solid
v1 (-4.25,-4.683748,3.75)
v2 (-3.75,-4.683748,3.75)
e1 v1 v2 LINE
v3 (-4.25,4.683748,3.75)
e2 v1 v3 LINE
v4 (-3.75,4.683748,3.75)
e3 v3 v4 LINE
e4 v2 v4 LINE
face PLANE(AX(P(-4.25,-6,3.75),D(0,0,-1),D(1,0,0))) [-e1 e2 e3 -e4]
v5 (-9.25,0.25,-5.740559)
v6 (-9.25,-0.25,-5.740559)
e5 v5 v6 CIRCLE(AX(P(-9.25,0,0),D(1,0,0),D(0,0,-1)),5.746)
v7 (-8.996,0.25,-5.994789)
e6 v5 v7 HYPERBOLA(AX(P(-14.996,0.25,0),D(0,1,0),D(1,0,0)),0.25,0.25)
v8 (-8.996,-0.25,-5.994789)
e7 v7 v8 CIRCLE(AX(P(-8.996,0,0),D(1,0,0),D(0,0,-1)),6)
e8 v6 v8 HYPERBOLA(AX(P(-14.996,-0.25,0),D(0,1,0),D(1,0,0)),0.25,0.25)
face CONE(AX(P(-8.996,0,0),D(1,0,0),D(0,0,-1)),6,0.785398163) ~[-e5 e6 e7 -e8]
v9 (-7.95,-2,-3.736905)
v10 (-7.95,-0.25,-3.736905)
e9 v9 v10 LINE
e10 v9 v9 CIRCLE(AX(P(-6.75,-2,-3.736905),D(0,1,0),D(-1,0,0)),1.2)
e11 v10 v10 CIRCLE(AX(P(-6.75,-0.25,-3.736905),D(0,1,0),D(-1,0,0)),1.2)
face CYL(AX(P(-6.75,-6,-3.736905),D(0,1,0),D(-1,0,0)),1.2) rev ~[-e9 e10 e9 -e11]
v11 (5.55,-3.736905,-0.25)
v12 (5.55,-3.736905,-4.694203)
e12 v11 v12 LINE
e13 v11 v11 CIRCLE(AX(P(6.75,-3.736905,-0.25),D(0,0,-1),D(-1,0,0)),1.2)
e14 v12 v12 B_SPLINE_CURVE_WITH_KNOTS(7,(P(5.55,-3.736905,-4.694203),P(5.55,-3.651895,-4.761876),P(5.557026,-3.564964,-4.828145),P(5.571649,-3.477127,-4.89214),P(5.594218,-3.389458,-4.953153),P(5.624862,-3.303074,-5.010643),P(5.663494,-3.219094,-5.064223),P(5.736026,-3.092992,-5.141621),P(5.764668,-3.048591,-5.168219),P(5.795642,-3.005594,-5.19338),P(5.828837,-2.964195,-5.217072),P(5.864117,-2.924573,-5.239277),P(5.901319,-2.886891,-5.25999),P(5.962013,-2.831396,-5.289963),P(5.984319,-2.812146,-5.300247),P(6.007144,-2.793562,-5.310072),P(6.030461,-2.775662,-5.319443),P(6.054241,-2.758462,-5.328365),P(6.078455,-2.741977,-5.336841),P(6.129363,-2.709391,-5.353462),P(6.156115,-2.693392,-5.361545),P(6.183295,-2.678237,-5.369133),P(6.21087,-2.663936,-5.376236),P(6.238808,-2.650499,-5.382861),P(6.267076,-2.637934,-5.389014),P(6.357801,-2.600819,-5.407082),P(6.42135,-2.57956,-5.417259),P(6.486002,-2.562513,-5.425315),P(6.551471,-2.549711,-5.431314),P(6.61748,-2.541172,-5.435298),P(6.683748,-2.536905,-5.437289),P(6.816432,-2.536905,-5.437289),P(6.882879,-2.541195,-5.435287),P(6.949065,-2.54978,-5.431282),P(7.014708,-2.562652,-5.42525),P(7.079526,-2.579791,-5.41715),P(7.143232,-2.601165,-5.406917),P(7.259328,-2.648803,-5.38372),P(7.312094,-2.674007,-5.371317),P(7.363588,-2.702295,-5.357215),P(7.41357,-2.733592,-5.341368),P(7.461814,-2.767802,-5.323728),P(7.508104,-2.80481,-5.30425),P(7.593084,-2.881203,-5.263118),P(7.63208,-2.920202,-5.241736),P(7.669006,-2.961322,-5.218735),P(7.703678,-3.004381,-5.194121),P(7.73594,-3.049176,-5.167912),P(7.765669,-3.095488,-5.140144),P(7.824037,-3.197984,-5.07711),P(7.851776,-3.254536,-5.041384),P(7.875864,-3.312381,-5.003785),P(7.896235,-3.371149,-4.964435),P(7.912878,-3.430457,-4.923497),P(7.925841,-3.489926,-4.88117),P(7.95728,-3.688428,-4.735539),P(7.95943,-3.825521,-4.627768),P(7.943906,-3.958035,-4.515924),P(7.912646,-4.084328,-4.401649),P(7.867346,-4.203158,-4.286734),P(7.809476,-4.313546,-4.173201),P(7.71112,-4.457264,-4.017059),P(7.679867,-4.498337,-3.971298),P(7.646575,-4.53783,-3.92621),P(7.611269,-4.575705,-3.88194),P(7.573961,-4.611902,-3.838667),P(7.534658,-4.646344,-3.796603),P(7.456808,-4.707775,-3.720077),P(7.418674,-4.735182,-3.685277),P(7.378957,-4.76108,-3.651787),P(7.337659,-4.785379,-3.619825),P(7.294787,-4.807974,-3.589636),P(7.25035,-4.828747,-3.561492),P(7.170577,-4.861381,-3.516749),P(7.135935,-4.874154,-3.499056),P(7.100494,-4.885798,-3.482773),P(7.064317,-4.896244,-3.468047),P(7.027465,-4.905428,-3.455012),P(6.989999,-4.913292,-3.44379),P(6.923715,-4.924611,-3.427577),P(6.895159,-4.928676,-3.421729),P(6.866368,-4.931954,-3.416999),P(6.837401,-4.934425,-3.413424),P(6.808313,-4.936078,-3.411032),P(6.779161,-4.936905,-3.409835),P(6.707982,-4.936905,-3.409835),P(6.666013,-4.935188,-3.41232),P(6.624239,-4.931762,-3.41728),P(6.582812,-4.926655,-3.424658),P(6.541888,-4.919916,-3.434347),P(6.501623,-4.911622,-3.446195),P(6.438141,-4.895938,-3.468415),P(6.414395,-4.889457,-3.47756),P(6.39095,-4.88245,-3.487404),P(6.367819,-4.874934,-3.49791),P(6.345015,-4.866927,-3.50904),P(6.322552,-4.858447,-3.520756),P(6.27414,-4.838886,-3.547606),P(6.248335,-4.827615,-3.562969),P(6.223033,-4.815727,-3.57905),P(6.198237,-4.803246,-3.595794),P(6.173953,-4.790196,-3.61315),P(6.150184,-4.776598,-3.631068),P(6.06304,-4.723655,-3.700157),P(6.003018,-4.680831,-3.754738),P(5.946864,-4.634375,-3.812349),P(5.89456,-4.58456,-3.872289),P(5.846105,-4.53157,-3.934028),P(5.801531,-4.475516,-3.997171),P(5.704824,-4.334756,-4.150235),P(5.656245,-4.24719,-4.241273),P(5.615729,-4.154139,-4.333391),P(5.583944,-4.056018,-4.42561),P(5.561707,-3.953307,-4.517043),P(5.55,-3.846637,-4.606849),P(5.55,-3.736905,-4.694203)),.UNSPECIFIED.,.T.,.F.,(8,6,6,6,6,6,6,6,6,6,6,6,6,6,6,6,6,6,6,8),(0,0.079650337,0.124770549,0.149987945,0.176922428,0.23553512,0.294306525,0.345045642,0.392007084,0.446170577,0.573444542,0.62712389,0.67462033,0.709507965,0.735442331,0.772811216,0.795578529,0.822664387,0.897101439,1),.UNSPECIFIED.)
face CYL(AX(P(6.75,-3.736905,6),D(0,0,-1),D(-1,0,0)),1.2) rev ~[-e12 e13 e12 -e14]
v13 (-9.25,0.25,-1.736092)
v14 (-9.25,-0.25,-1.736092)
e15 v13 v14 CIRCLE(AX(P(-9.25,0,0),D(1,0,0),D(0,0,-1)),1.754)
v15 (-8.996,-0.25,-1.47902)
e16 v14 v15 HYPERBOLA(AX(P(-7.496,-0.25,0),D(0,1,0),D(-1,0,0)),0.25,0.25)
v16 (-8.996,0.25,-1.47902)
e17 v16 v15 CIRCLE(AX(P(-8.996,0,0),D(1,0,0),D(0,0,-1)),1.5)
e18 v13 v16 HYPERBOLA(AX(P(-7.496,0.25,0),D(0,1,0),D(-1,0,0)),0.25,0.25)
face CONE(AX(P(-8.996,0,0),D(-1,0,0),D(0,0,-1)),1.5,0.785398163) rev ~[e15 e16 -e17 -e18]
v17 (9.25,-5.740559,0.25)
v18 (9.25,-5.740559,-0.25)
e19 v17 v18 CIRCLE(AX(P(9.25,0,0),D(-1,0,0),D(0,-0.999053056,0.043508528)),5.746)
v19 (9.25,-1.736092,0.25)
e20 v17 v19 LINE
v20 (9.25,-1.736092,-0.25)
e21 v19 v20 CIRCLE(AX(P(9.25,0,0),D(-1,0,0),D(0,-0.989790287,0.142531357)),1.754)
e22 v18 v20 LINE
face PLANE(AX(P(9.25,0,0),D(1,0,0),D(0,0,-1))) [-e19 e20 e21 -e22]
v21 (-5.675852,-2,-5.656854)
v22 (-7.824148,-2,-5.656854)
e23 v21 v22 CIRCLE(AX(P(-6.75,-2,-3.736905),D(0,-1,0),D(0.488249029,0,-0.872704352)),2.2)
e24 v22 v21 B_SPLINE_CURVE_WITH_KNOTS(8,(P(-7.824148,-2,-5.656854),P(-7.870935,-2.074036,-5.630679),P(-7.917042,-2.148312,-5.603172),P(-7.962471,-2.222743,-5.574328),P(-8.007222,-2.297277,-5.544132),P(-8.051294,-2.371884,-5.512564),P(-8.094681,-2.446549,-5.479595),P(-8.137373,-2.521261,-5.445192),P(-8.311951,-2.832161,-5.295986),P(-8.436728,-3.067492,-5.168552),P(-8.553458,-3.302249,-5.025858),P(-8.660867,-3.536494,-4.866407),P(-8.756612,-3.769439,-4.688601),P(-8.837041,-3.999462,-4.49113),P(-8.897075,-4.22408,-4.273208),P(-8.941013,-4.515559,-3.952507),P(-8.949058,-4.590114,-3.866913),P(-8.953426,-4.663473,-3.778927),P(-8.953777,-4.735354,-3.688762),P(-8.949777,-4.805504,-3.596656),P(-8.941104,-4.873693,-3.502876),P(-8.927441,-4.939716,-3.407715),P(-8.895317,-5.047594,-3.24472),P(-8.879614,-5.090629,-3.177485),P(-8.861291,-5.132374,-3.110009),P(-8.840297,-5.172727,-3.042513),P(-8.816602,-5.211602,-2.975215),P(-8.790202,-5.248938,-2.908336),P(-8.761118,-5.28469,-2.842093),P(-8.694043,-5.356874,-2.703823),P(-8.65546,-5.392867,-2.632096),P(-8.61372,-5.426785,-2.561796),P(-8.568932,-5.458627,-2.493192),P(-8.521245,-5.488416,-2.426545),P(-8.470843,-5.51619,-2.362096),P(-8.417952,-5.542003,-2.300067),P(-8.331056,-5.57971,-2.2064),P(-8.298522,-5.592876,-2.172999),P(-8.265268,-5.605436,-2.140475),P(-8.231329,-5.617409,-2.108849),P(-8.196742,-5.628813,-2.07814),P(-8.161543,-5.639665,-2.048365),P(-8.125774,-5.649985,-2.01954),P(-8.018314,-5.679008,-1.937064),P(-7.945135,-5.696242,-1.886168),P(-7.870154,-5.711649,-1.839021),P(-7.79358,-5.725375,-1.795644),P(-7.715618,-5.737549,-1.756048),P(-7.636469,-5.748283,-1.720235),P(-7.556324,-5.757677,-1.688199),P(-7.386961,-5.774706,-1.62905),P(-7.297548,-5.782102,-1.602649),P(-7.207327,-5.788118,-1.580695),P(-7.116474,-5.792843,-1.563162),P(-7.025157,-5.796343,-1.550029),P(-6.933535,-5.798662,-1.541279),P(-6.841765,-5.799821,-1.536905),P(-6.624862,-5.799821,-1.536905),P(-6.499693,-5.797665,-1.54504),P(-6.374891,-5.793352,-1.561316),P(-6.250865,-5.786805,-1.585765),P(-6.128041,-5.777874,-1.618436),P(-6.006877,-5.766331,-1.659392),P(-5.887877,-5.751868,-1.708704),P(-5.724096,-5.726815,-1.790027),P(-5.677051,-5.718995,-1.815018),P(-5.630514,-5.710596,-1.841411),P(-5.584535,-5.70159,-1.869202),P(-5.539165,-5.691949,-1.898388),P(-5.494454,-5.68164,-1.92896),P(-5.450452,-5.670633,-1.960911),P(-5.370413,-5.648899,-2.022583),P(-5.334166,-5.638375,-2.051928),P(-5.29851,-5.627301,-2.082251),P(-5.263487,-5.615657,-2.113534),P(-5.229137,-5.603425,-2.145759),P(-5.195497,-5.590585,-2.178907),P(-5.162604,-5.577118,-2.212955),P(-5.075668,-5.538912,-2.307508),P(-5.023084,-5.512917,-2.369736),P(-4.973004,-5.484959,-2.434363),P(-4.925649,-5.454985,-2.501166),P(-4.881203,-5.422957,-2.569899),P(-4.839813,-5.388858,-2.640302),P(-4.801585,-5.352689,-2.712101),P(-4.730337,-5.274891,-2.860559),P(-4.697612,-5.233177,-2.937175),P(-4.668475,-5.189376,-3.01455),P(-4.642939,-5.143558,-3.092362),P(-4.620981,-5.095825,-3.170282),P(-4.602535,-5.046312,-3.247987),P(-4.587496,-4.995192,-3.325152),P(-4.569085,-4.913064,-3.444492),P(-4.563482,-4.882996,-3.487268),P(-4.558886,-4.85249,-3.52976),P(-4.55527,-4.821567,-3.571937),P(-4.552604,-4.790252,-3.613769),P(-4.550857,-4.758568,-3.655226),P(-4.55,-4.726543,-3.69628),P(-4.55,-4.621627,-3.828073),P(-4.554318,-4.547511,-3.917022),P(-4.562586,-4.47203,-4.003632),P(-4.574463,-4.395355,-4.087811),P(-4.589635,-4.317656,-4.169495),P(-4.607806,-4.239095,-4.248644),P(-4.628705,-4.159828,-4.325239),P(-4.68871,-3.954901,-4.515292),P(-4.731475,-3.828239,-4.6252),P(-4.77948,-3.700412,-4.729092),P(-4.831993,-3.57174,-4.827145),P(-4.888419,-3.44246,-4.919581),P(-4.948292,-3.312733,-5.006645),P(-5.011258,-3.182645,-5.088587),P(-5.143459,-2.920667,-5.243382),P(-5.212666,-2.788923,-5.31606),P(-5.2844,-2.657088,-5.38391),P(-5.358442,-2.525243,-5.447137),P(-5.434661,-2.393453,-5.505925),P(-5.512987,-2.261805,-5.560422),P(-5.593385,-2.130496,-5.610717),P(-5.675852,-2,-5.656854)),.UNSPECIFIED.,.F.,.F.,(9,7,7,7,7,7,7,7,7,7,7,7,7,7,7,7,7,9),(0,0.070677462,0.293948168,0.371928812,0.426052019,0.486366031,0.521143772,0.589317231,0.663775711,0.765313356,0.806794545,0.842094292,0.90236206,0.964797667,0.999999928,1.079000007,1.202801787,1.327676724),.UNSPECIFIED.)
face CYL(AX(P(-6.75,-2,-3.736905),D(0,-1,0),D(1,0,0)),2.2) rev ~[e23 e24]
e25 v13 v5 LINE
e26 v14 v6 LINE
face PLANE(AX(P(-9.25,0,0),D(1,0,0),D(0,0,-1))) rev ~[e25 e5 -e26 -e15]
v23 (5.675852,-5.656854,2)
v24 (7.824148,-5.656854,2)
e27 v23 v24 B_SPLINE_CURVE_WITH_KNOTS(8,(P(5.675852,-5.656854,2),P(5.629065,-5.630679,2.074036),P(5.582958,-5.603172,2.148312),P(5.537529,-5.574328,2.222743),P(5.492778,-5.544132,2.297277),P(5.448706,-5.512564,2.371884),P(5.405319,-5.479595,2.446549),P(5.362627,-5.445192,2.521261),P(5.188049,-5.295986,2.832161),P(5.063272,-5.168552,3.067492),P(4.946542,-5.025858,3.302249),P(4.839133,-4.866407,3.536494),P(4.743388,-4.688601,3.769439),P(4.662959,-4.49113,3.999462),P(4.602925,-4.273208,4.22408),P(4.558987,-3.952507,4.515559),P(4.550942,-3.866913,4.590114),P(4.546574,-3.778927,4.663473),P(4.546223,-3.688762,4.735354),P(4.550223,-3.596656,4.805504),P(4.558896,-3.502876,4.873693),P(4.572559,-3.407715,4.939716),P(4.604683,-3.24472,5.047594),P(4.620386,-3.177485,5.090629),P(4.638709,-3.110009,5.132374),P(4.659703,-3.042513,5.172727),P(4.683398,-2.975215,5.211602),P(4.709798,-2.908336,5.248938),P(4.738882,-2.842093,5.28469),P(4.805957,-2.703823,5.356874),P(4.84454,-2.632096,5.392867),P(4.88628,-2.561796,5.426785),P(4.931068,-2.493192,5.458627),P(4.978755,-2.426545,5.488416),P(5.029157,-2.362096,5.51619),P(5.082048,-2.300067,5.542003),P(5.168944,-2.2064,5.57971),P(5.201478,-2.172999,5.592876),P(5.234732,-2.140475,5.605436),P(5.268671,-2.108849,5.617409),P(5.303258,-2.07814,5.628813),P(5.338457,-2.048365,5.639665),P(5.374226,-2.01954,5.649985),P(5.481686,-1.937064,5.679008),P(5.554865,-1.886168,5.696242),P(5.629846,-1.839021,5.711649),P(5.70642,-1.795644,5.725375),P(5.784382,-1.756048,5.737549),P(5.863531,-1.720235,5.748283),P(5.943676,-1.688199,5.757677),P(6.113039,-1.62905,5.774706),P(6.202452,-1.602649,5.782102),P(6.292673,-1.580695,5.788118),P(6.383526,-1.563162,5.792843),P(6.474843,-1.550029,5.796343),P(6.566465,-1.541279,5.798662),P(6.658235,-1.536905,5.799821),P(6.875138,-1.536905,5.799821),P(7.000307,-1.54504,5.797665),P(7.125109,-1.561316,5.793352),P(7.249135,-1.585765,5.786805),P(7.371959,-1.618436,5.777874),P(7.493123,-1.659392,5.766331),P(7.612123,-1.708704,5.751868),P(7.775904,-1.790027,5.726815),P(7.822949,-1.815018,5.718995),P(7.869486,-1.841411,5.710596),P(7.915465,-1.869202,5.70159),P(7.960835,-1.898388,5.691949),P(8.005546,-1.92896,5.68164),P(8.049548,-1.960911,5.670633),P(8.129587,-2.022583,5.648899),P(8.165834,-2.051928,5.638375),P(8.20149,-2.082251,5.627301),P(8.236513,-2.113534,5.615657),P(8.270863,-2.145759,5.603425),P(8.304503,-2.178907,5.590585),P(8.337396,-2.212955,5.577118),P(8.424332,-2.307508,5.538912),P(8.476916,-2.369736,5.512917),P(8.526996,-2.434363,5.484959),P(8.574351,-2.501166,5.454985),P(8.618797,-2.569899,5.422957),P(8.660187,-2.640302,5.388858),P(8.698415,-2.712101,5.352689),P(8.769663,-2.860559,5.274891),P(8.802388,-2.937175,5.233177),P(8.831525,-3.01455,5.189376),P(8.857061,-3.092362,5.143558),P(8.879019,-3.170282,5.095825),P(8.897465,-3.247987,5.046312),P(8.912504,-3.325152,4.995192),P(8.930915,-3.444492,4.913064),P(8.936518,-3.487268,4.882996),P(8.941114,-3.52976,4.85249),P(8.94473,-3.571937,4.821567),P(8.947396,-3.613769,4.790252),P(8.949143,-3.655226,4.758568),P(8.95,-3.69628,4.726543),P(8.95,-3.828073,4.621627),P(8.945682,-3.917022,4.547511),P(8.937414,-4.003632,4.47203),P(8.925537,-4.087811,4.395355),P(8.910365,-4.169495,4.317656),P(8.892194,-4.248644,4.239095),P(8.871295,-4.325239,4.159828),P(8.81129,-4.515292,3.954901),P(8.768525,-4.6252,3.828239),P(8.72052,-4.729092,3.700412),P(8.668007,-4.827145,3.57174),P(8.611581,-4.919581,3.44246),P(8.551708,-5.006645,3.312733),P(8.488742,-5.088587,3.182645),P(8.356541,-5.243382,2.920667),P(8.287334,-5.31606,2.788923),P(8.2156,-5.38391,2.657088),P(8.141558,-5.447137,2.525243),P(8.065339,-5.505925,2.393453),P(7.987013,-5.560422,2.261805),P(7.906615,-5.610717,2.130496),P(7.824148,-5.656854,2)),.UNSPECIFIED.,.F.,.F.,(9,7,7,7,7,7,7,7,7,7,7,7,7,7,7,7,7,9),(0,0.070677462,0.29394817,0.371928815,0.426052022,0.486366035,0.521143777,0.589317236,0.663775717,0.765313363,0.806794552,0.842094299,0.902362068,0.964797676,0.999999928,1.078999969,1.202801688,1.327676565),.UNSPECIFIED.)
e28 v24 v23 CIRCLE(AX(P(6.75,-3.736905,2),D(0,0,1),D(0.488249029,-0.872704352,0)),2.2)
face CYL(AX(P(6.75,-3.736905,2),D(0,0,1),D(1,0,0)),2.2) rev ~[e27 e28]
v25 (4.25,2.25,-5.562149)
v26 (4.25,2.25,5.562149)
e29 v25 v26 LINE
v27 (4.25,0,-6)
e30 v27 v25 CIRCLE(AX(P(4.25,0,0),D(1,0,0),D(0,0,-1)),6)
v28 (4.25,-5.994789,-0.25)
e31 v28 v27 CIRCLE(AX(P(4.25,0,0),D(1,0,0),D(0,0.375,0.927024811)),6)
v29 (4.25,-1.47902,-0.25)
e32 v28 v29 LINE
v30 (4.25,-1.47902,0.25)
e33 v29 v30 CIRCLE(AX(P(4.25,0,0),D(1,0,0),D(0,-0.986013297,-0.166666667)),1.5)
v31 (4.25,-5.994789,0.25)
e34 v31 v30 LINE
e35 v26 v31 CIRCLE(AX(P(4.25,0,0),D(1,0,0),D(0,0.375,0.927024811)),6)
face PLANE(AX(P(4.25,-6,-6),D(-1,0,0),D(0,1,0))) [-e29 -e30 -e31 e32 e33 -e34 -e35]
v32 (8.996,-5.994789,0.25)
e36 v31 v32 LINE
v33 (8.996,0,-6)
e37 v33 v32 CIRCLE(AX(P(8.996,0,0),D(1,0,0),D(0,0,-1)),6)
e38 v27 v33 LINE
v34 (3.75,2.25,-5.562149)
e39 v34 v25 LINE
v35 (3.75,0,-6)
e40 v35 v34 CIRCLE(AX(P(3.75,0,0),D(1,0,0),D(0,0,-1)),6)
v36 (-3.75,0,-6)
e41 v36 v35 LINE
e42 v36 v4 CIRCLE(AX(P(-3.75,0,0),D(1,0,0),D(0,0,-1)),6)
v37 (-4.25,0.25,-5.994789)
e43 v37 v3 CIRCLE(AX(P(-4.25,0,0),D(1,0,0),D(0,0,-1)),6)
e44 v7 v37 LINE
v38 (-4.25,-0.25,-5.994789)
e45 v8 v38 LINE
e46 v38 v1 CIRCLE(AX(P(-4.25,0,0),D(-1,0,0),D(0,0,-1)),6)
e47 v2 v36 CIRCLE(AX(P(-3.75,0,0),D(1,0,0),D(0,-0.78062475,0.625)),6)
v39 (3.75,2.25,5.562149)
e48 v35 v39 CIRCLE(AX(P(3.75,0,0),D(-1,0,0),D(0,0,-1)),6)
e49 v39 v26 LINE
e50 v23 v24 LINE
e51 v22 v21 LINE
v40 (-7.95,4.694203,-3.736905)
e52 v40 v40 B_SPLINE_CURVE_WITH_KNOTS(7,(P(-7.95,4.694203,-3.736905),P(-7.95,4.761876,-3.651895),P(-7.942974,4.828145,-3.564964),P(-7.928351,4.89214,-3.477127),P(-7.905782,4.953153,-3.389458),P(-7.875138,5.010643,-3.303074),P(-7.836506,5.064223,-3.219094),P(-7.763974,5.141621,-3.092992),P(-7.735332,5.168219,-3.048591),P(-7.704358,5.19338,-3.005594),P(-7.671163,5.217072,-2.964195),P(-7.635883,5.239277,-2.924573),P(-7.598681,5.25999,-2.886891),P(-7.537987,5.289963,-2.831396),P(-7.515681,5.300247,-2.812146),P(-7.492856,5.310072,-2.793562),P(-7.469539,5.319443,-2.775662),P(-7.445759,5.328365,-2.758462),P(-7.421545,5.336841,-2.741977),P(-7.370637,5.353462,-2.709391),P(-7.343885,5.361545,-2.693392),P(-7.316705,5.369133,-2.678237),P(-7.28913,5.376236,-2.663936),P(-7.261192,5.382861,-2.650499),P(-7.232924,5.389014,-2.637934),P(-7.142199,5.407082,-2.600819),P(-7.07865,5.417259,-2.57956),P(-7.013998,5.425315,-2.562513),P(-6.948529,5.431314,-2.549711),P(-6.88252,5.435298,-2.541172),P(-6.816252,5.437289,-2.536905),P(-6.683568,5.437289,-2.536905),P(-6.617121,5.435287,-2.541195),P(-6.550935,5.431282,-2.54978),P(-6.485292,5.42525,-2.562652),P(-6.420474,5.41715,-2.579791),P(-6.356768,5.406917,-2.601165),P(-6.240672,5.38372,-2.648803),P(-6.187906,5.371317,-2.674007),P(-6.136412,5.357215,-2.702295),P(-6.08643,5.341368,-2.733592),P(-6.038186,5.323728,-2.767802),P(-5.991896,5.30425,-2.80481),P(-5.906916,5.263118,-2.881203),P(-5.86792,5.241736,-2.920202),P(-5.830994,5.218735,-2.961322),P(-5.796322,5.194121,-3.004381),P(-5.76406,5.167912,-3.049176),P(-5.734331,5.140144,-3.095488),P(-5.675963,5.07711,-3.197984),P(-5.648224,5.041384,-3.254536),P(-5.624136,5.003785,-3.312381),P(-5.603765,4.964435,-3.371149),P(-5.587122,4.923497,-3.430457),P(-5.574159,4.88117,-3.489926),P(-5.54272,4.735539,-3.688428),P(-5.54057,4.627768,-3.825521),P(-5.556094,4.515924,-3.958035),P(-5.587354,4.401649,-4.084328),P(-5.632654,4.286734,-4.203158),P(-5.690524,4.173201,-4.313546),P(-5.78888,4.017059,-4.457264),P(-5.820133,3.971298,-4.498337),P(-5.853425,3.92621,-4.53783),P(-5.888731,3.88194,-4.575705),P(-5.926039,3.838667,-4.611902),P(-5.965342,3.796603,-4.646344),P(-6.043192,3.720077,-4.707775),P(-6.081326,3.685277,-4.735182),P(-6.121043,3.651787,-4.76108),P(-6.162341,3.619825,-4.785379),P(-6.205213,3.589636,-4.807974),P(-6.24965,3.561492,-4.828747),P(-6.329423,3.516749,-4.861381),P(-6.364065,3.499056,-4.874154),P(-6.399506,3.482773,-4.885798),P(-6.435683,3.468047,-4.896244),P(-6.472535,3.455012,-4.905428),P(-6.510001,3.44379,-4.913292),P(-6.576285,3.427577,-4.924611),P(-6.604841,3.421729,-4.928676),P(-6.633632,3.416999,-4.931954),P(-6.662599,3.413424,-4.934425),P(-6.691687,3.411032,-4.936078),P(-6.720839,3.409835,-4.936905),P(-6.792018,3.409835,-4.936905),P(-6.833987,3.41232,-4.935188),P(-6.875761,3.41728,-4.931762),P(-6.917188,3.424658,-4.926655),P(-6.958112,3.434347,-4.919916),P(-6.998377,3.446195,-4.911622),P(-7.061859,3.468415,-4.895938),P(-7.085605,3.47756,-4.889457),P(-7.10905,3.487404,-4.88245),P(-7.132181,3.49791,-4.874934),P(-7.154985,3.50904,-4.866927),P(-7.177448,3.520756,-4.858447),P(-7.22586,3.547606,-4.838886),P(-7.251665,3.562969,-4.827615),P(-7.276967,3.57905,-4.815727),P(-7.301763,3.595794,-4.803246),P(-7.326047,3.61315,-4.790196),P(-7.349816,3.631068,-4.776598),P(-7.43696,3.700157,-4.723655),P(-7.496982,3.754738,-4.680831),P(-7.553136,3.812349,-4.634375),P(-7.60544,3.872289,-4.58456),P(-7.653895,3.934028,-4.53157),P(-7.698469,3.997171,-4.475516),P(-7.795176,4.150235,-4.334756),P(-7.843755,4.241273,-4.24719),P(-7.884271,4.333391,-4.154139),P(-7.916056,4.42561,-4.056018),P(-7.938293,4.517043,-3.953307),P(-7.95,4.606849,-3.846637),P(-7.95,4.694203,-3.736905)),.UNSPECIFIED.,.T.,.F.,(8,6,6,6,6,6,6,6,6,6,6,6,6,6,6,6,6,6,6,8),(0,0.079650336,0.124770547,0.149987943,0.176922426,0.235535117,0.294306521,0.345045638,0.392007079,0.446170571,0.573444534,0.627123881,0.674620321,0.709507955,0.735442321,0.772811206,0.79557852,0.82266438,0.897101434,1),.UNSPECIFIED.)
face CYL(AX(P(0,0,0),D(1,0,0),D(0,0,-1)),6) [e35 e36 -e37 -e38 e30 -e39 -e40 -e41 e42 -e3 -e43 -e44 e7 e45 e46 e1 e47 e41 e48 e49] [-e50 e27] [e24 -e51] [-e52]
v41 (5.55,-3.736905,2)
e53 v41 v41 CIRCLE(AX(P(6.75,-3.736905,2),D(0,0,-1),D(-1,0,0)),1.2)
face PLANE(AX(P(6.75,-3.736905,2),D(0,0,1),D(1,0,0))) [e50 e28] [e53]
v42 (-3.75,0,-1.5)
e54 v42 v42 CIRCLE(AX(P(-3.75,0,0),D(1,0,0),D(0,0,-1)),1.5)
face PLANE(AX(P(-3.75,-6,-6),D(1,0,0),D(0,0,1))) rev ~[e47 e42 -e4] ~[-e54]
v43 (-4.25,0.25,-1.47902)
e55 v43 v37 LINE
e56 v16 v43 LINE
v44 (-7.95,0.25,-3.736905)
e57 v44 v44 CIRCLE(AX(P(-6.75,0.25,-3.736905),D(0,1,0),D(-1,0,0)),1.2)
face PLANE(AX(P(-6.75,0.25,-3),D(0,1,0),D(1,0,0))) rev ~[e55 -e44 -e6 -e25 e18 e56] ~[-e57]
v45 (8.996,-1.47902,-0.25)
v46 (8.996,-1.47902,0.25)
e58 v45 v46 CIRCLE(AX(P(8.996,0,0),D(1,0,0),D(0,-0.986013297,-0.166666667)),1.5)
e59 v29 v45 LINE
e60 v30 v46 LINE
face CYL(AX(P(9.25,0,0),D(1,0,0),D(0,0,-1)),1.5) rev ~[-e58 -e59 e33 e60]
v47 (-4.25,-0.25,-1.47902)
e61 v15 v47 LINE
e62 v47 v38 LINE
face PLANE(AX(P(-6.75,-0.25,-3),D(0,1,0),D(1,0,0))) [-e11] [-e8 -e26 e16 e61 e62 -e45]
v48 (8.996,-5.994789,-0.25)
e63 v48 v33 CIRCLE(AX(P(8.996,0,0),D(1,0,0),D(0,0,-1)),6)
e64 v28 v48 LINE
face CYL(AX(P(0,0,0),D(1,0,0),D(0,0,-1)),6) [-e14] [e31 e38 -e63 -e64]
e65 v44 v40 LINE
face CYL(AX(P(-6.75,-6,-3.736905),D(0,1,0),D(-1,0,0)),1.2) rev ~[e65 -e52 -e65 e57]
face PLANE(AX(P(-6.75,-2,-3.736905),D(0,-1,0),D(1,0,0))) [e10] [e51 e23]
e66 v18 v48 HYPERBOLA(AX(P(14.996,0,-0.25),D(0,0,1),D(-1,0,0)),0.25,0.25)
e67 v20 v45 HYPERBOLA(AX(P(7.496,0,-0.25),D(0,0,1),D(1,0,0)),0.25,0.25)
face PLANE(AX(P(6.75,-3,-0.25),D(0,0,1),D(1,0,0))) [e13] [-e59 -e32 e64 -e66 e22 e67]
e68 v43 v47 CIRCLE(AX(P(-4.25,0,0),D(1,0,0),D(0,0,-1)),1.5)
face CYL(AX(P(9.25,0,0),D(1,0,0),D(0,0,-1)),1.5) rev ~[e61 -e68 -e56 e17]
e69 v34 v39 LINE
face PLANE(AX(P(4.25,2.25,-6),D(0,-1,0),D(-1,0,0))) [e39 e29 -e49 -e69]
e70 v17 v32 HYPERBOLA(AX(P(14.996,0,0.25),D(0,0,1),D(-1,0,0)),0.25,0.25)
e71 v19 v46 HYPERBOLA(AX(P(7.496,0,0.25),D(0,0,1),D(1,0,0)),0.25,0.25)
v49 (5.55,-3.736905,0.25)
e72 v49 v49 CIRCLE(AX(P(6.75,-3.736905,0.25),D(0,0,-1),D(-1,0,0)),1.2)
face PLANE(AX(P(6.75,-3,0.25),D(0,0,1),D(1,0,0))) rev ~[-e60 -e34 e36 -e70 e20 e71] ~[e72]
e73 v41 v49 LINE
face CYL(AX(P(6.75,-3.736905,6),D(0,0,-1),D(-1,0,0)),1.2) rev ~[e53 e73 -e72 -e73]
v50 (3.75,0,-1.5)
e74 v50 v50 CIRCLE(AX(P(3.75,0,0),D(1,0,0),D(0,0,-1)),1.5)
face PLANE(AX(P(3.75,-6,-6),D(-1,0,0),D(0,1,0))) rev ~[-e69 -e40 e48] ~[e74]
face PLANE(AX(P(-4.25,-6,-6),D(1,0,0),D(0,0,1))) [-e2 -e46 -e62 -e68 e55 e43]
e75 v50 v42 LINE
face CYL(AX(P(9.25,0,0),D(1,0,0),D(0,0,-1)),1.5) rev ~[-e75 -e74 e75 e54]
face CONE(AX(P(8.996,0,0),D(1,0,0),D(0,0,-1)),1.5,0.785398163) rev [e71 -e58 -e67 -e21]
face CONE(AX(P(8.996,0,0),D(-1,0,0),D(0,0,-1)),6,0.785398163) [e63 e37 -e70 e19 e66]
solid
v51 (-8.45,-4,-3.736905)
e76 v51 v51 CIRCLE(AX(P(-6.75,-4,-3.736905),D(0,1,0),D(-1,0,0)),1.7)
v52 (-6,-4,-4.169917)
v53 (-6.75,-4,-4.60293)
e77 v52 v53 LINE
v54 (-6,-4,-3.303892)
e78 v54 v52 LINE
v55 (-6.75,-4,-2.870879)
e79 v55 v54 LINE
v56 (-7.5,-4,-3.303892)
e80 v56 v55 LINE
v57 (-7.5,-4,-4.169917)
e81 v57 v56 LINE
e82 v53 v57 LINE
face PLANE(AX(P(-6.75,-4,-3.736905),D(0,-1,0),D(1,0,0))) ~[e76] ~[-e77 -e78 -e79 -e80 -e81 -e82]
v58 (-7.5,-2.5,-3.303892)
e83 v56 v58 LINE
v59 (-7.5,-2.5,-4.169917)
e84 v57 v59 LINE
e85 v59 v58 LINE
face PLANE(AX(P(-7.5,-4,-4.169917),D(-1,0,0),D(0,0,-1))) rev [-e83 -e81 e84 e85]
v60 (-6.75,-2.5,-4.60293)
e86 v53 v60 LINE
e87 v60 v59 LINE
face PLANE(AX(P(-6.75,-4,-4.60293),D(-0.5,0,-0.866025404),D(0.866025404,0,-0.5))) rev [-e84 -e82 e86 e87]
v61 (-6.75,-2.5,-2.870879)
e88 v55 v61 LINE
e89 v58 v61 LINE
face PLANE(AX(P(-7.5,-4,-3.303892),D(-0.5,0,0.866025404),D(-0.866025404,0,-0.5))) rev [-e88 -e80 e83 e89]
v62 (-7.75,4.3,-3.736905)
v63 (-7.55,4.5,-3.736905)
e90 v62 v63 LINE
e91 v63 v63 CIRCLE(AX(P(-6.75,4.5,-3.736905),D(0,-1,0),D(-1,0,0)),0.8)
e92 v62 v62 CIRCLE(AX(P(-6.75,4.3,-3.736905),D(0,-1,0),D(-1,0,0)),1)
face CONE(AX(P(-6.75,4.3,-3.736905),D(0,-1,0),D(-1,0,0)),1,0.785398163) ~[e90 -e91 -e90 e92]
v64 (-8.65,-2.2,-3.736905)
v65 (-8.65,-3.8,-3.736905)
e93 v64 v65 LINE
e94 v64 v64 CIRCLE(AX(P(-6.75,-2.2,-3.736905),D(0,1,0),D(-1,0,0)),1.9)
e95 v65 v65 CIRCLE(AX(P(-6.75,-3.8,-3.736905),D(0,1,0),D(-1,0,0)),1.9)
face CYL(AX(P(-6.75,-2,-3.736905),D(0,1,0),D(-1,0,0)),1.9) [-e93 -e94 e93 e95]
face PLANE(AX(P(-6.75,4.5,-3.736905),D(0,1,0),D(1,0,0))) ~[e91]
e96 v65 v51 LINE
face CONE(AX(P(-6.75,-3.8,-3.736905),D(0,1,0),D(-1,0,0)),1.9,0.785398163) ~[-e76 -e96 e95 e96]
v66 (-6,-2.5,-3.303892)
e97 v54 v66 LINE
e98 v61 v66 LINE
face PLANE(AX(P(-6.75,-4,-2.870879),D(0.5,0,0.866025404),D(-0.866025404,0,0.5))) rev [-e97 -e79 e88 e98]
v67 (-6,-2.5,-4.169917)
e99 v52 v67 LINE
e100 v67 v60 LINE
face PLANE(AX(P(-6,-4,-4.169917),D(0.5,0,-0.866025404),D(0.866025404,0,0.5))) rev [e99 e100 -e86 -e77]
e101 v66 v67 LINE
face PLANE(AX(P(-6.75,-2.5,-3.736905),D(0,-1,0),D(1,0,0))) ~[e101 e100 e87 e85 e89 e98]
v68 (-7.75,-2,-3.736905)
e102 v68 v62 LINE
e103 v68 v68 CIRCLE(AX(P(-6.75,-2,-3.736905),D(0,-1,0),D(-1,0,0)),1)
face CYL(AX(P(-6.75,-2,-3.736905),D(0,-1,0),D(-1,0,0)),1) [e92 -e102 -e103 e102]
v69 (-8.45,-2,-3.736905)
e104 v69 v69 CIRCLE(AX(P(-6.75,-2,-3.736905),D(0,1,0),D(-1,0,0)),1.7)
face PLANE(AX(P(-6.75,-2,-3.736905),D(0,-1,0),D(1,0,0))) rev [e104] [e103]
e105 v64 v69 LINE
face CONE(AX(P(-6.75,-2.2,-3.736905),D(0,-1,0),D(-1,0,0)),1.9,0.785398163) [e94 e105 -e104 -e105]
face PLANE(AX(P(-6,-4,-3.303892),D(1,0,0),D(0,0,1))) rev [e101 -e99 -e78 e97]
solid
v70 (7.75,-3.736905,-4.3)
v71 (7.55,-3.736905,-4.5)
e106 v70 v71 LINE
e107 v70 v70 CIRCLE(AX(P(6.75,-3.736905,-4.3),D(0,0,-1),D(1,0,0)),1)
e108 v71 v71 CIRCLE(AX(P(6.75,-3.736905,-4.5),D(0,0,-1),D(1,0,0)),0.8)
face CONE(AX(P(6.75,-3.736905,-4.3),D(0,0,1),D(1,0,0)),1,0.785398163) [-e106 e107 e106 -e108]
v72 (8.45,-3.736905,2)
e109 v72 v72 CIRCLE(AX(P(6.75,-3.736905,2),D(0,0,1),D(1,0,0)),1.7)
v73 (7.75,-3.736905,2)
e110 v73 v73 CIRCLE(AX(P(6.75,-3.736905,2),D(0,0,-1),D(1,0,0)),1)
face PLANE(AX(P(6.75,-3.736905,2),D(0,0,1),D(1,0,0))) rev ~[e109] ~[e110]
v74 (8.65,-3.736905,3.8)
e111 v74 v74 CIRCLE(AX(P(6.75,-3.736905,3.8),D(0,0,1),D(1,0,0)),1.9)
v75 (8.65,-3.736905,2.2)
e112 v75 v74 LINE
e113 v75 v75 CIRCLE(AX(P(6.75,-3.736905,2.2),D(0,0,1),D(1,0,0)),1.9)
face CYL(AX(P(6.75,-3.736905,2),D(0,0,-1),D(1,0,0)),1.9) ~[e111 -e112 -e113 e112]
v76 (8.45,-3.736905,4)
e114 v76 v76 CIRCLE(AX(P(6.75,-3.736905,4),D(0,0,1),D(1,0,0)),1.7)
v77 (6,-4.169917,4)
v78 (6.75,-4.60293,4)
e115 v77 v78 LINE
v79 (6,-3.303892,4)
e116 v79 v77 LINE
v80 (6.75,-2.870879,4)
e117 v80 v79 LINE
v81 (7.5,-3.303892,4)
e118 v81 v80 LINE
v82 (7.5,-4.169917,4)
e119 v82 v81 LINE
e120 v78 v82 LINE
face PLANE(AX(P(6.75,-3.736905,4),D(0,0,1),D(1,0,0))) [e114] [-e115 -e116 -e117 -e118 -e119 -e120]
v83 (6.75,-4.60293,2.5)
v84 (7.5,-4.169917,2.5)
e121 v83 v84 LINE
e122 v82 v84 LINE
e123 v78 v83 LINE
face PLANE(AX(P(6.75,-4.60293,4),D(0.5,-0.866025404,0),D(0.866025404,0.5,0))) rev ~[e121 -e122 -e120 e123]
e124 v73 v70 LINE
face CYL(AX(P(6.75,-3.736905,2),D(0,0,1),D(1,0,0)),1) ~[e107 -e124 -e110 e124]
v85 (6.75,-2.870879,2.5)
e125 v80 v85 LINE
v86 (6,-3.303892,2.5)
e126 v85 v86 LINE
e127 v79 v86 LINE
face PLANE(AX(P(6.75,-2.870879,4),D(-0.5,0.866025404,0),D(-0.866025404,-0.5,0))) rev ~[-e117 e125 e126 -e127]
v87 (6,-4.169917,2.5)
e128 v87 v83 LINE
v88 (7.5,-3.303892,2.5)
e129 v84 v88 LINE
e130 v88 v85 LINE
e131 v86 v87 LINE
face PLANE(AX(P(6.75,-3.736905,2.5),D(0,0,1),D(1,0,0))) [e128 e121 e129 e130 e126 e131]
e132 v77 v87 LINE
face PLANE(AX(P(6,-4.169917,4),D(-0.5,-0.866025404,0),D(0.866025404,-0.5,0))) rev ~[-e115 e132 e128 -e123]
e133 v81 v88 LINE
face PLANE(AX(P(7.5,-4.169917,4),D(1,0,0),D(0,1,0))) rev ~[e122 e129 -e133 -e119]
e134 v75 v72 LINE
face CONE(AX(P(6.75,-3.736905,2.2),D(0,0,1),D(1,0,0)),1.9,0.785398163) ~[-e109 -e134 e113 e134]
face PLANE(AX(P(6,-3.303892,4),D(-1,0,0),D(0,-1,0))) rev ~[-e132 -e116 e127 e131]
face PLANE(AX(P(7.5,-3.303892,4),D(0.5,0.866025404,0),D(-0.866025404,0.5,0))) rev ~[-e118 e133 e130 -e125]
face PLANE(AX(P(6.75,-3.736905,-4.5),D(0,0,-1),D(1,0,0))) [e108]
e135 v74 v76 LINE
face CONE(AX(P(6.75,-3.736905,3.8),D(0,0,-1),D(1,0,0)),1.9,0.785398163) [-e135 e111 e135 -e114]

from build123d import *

# Parameters (mm, degrees)
SKETCH1_R                      = 6
BOSS_EXTRUDE1_DEPTH            = 9.25
SKETCH2_R                      = 1.5
CUT_EXTRUDE1_DEPTH             = 19.5
CHAMFER1_SIZE                  = 0.254
SKETCH4_W                      = 0.5
SKETCH4_H                      = 9.75
CUT_EXTRUDE2_DEPTH             = 13
SKETCH7_W                      = 0.5
SKETCH7_H                      = 8.25
CUT_EXTRUDE3_DEPTH             = 13
SKETCH8_W                      = 5
SKETCH8_H                      = 6
CUT_EXTRUDE5_DEPTH             = 0.25
SKETCH13_W                     = 5
SKETCH13_H                     = 6
CUT_EXTRUDE6_DEPTH             = 0.25
CBORE_FOR_M2_SHCS1_D           = 2.4
CBORE_FOR_M2_SHCS1_CBORE_D     = 4.4
CBORE_FOR_M2_SHCS1_CBORE_DEPTH = 4
CBORE_FOR_M2_SHCS2_D           = 2.4
CBORE_FOR_M2_SHCS2_CBORE_D     = 4.4
CBORE_FOR_M2_SHCS2_CBORE_DEPTH = 4
SKETCH16_R                     = 1.9
BOSS_EXTRUDE2_DEPTH            = 2
SKETCH17_R                     = 1
BOSS_EXTRUDE3_DEPTH            = 6.5
CHAMFER2_SIZE                  = 0.2
CUT_EXTRUDE7_DEPTH             = 1.5
CIRPATTERN1_COUNT              = 2
CIRPATTERN1_ANGLE              = 90


with BuildPart() as part:
    # Sketch1 → Boss-Extrude1 (new body, symmetric)
    with BuildSketch(Plane(origin=(0, 0, 0), x_dir=(0, 0, -1), z_dir=(1, 0, 0))):
        Circle(SKETCH1_R)
    extrude(amount=BOSS_EXTRUDE1_DEPTH, both=True)

    # Sketch2 → Cut-Extrude1 (cut, through all)
    with BuildSketch(Plane(origin=(9.25, 0, 0), x_dir=(0, 0, -1), z_dir=(1, 0, 0))):
        Circle(SKETCH2_R)
    extrude(amount=-CUT_EXTRUDE1_DEPTH, mode=Mode.SUBTRACT)

    # Chamfer1
    chamfer1_edges = [part.edges().sort_by_distance(p)[0] for p in [
        (-9.25, 0, 6),
        (9.25, 0, 6),
        (-9.25, 0, 1.5),
        (9.25, 0, 1.5),
    ]]
    chamfer(chamfer1_edges, length=CHAMFER1_SIZE)

    # Sketch4 → Cut-Extrude2 (cut, through all)
    with BuildSketch(Plane.XZ.offset(6)):
        with Locations((-4, -1.125)):
            Rectangle(SKETCH4_W, SKETCH4_H)
    extrude(amount=-CUT_EXTRUDE2_DEPTH, mode=Mode.SUBTRACT)

    # Sketch7 → Cut-Extrude3 (cut, through all)
    with BuildSketch(Plane(origin=(0, 0, -6), x_dir=(-1, 0, 0), z_dir=(0, 0, -1))):
        with Locations((-4, -1.875)):
            Rectangle(SKETCH7_W, SKETCH7_H)
    extrude(amount=-CUT_EXTRUDE3_DEPTH, mode=Mode.SUBTRACT)

    # Sketch8 → Cut-Extrude5 (cut, symmetric)
    with BuildSketch(Plane(origin=(0, 0, 0), x_dir=(1, 0, 0), z_dir=(0, 1, 0))):
        with Locations((-6.75, 3)):
            Rectangle(SKETCH8_W, SKETCH8_H)
    extrude(amount=CUT_EXTRUDE5_DEPTH, both=True, mode=Mode.SUBTRACT)

    # Sketch13 → Cut-Extrude6 (cut, symmetric)
    with BuildSketch(Plane.XY):
        with Locations((6.75, -3)):
            Rectangle(SKETCH13_W, SKETCH13_H)
    extrude(amount=CUT_EXTRUDE6_DEPTH, both=True, mode=Mode.SUBTRACT)

    # CBORE for M2 SHCS1 (through all)
    with Locations(Plane.XZ.offset(6)):
        with Locations((-6.75, -3.736904675)):
            CounterBoreHole(CBORE_FOR_M2_SHCS1_D / 2, CBORE_FOR_M2_SHCS1_CBORE_D / 2, CBORE_FOR_M2_SHCS1_CBORE_DEPTH)

    # CBORE for M2 SHCS2 (through all)
    with Locations(Plane.XY.offset(6)):
        with Locations((6.75, -3.736904675)):
            CounterBoreHole(CBORE_FOR_M2_SHCS2_D / 2, CBORE_FOR_M2_SHCS2_CBORE_D / 2, CBORE_FOR_M2_SHCS2_CBORE_DEPTH)


with BuildPart() as body_2:
    # Sketch16 → Boss-Extrude2 (new body)
    with BuildSketch(Plane.XY.offset(2)):
        with Locations((6.75, -3.736904675)):
            Circle(SKETCH16_R)
    extrude(amount=BOSS_EXTRUDE2_DEPTH)

    # Sketch17 → Boss-Extrude3 (add)
    with BuildSketch(Plane(origin=(0, 0, 2), x_dir=(-1, 0, 0), z_dir=(0, 0, -1))):
        with Locations(Location((-6.75, -3.736904675, 0), (0, 0, 180))):  # turned: the seam where the file's is
            Circle(SKETCH17_R)
    extrude(amount=BOSS_EXTRUDE3_DEPTH)

    # Chamfer2
    chamfer2_edges = [body_2.edges().sort_by_distance(p)[0] for p in [
        (4.85, -3.736904675, 2),
        (4.85, -3.736904675, 4),
        (5.75, -3.736904675, -4.5),
    ]]
    chamfer(chamfer2_edges, length=CHAMFER2_SIZE)

    # Sketch18 → Cut-Extrude7 (cut)
    with BuildSketch(Plane.XY.offset(4)):
        Polygon((6.75, -4.602930079), (7.5, -4.169917377), (7.5, -3.303891973), (6.75, -2.870879271), (6, -3.303891973), (6, -4.169917377), align=None)
    extrude(amount=-CUT_EXTRUDE7_DEPTH, mode=Mode.SUBTRACT)


with BuildPart() as body_3:
    # Mirror1: mirrored copy
    add(body_2.part.mirror(Plane(origin=(0, 0, 0), x_dir=(0, 0, 1), z_dir=(1, 0, 0))))


with BuildPart() as cirpattern1_1:
    # CirPattern1: pattern copy
    add(body_3.part.rotate(Axis((0, 0, 0), (1, 0, 0)), 1 * CIRPATTERN1_ANGLE / (CIRPATTERN1_COUNT - 1)))


solid = Compound([part.part, body_2.part, cirpattern1_1.part])
